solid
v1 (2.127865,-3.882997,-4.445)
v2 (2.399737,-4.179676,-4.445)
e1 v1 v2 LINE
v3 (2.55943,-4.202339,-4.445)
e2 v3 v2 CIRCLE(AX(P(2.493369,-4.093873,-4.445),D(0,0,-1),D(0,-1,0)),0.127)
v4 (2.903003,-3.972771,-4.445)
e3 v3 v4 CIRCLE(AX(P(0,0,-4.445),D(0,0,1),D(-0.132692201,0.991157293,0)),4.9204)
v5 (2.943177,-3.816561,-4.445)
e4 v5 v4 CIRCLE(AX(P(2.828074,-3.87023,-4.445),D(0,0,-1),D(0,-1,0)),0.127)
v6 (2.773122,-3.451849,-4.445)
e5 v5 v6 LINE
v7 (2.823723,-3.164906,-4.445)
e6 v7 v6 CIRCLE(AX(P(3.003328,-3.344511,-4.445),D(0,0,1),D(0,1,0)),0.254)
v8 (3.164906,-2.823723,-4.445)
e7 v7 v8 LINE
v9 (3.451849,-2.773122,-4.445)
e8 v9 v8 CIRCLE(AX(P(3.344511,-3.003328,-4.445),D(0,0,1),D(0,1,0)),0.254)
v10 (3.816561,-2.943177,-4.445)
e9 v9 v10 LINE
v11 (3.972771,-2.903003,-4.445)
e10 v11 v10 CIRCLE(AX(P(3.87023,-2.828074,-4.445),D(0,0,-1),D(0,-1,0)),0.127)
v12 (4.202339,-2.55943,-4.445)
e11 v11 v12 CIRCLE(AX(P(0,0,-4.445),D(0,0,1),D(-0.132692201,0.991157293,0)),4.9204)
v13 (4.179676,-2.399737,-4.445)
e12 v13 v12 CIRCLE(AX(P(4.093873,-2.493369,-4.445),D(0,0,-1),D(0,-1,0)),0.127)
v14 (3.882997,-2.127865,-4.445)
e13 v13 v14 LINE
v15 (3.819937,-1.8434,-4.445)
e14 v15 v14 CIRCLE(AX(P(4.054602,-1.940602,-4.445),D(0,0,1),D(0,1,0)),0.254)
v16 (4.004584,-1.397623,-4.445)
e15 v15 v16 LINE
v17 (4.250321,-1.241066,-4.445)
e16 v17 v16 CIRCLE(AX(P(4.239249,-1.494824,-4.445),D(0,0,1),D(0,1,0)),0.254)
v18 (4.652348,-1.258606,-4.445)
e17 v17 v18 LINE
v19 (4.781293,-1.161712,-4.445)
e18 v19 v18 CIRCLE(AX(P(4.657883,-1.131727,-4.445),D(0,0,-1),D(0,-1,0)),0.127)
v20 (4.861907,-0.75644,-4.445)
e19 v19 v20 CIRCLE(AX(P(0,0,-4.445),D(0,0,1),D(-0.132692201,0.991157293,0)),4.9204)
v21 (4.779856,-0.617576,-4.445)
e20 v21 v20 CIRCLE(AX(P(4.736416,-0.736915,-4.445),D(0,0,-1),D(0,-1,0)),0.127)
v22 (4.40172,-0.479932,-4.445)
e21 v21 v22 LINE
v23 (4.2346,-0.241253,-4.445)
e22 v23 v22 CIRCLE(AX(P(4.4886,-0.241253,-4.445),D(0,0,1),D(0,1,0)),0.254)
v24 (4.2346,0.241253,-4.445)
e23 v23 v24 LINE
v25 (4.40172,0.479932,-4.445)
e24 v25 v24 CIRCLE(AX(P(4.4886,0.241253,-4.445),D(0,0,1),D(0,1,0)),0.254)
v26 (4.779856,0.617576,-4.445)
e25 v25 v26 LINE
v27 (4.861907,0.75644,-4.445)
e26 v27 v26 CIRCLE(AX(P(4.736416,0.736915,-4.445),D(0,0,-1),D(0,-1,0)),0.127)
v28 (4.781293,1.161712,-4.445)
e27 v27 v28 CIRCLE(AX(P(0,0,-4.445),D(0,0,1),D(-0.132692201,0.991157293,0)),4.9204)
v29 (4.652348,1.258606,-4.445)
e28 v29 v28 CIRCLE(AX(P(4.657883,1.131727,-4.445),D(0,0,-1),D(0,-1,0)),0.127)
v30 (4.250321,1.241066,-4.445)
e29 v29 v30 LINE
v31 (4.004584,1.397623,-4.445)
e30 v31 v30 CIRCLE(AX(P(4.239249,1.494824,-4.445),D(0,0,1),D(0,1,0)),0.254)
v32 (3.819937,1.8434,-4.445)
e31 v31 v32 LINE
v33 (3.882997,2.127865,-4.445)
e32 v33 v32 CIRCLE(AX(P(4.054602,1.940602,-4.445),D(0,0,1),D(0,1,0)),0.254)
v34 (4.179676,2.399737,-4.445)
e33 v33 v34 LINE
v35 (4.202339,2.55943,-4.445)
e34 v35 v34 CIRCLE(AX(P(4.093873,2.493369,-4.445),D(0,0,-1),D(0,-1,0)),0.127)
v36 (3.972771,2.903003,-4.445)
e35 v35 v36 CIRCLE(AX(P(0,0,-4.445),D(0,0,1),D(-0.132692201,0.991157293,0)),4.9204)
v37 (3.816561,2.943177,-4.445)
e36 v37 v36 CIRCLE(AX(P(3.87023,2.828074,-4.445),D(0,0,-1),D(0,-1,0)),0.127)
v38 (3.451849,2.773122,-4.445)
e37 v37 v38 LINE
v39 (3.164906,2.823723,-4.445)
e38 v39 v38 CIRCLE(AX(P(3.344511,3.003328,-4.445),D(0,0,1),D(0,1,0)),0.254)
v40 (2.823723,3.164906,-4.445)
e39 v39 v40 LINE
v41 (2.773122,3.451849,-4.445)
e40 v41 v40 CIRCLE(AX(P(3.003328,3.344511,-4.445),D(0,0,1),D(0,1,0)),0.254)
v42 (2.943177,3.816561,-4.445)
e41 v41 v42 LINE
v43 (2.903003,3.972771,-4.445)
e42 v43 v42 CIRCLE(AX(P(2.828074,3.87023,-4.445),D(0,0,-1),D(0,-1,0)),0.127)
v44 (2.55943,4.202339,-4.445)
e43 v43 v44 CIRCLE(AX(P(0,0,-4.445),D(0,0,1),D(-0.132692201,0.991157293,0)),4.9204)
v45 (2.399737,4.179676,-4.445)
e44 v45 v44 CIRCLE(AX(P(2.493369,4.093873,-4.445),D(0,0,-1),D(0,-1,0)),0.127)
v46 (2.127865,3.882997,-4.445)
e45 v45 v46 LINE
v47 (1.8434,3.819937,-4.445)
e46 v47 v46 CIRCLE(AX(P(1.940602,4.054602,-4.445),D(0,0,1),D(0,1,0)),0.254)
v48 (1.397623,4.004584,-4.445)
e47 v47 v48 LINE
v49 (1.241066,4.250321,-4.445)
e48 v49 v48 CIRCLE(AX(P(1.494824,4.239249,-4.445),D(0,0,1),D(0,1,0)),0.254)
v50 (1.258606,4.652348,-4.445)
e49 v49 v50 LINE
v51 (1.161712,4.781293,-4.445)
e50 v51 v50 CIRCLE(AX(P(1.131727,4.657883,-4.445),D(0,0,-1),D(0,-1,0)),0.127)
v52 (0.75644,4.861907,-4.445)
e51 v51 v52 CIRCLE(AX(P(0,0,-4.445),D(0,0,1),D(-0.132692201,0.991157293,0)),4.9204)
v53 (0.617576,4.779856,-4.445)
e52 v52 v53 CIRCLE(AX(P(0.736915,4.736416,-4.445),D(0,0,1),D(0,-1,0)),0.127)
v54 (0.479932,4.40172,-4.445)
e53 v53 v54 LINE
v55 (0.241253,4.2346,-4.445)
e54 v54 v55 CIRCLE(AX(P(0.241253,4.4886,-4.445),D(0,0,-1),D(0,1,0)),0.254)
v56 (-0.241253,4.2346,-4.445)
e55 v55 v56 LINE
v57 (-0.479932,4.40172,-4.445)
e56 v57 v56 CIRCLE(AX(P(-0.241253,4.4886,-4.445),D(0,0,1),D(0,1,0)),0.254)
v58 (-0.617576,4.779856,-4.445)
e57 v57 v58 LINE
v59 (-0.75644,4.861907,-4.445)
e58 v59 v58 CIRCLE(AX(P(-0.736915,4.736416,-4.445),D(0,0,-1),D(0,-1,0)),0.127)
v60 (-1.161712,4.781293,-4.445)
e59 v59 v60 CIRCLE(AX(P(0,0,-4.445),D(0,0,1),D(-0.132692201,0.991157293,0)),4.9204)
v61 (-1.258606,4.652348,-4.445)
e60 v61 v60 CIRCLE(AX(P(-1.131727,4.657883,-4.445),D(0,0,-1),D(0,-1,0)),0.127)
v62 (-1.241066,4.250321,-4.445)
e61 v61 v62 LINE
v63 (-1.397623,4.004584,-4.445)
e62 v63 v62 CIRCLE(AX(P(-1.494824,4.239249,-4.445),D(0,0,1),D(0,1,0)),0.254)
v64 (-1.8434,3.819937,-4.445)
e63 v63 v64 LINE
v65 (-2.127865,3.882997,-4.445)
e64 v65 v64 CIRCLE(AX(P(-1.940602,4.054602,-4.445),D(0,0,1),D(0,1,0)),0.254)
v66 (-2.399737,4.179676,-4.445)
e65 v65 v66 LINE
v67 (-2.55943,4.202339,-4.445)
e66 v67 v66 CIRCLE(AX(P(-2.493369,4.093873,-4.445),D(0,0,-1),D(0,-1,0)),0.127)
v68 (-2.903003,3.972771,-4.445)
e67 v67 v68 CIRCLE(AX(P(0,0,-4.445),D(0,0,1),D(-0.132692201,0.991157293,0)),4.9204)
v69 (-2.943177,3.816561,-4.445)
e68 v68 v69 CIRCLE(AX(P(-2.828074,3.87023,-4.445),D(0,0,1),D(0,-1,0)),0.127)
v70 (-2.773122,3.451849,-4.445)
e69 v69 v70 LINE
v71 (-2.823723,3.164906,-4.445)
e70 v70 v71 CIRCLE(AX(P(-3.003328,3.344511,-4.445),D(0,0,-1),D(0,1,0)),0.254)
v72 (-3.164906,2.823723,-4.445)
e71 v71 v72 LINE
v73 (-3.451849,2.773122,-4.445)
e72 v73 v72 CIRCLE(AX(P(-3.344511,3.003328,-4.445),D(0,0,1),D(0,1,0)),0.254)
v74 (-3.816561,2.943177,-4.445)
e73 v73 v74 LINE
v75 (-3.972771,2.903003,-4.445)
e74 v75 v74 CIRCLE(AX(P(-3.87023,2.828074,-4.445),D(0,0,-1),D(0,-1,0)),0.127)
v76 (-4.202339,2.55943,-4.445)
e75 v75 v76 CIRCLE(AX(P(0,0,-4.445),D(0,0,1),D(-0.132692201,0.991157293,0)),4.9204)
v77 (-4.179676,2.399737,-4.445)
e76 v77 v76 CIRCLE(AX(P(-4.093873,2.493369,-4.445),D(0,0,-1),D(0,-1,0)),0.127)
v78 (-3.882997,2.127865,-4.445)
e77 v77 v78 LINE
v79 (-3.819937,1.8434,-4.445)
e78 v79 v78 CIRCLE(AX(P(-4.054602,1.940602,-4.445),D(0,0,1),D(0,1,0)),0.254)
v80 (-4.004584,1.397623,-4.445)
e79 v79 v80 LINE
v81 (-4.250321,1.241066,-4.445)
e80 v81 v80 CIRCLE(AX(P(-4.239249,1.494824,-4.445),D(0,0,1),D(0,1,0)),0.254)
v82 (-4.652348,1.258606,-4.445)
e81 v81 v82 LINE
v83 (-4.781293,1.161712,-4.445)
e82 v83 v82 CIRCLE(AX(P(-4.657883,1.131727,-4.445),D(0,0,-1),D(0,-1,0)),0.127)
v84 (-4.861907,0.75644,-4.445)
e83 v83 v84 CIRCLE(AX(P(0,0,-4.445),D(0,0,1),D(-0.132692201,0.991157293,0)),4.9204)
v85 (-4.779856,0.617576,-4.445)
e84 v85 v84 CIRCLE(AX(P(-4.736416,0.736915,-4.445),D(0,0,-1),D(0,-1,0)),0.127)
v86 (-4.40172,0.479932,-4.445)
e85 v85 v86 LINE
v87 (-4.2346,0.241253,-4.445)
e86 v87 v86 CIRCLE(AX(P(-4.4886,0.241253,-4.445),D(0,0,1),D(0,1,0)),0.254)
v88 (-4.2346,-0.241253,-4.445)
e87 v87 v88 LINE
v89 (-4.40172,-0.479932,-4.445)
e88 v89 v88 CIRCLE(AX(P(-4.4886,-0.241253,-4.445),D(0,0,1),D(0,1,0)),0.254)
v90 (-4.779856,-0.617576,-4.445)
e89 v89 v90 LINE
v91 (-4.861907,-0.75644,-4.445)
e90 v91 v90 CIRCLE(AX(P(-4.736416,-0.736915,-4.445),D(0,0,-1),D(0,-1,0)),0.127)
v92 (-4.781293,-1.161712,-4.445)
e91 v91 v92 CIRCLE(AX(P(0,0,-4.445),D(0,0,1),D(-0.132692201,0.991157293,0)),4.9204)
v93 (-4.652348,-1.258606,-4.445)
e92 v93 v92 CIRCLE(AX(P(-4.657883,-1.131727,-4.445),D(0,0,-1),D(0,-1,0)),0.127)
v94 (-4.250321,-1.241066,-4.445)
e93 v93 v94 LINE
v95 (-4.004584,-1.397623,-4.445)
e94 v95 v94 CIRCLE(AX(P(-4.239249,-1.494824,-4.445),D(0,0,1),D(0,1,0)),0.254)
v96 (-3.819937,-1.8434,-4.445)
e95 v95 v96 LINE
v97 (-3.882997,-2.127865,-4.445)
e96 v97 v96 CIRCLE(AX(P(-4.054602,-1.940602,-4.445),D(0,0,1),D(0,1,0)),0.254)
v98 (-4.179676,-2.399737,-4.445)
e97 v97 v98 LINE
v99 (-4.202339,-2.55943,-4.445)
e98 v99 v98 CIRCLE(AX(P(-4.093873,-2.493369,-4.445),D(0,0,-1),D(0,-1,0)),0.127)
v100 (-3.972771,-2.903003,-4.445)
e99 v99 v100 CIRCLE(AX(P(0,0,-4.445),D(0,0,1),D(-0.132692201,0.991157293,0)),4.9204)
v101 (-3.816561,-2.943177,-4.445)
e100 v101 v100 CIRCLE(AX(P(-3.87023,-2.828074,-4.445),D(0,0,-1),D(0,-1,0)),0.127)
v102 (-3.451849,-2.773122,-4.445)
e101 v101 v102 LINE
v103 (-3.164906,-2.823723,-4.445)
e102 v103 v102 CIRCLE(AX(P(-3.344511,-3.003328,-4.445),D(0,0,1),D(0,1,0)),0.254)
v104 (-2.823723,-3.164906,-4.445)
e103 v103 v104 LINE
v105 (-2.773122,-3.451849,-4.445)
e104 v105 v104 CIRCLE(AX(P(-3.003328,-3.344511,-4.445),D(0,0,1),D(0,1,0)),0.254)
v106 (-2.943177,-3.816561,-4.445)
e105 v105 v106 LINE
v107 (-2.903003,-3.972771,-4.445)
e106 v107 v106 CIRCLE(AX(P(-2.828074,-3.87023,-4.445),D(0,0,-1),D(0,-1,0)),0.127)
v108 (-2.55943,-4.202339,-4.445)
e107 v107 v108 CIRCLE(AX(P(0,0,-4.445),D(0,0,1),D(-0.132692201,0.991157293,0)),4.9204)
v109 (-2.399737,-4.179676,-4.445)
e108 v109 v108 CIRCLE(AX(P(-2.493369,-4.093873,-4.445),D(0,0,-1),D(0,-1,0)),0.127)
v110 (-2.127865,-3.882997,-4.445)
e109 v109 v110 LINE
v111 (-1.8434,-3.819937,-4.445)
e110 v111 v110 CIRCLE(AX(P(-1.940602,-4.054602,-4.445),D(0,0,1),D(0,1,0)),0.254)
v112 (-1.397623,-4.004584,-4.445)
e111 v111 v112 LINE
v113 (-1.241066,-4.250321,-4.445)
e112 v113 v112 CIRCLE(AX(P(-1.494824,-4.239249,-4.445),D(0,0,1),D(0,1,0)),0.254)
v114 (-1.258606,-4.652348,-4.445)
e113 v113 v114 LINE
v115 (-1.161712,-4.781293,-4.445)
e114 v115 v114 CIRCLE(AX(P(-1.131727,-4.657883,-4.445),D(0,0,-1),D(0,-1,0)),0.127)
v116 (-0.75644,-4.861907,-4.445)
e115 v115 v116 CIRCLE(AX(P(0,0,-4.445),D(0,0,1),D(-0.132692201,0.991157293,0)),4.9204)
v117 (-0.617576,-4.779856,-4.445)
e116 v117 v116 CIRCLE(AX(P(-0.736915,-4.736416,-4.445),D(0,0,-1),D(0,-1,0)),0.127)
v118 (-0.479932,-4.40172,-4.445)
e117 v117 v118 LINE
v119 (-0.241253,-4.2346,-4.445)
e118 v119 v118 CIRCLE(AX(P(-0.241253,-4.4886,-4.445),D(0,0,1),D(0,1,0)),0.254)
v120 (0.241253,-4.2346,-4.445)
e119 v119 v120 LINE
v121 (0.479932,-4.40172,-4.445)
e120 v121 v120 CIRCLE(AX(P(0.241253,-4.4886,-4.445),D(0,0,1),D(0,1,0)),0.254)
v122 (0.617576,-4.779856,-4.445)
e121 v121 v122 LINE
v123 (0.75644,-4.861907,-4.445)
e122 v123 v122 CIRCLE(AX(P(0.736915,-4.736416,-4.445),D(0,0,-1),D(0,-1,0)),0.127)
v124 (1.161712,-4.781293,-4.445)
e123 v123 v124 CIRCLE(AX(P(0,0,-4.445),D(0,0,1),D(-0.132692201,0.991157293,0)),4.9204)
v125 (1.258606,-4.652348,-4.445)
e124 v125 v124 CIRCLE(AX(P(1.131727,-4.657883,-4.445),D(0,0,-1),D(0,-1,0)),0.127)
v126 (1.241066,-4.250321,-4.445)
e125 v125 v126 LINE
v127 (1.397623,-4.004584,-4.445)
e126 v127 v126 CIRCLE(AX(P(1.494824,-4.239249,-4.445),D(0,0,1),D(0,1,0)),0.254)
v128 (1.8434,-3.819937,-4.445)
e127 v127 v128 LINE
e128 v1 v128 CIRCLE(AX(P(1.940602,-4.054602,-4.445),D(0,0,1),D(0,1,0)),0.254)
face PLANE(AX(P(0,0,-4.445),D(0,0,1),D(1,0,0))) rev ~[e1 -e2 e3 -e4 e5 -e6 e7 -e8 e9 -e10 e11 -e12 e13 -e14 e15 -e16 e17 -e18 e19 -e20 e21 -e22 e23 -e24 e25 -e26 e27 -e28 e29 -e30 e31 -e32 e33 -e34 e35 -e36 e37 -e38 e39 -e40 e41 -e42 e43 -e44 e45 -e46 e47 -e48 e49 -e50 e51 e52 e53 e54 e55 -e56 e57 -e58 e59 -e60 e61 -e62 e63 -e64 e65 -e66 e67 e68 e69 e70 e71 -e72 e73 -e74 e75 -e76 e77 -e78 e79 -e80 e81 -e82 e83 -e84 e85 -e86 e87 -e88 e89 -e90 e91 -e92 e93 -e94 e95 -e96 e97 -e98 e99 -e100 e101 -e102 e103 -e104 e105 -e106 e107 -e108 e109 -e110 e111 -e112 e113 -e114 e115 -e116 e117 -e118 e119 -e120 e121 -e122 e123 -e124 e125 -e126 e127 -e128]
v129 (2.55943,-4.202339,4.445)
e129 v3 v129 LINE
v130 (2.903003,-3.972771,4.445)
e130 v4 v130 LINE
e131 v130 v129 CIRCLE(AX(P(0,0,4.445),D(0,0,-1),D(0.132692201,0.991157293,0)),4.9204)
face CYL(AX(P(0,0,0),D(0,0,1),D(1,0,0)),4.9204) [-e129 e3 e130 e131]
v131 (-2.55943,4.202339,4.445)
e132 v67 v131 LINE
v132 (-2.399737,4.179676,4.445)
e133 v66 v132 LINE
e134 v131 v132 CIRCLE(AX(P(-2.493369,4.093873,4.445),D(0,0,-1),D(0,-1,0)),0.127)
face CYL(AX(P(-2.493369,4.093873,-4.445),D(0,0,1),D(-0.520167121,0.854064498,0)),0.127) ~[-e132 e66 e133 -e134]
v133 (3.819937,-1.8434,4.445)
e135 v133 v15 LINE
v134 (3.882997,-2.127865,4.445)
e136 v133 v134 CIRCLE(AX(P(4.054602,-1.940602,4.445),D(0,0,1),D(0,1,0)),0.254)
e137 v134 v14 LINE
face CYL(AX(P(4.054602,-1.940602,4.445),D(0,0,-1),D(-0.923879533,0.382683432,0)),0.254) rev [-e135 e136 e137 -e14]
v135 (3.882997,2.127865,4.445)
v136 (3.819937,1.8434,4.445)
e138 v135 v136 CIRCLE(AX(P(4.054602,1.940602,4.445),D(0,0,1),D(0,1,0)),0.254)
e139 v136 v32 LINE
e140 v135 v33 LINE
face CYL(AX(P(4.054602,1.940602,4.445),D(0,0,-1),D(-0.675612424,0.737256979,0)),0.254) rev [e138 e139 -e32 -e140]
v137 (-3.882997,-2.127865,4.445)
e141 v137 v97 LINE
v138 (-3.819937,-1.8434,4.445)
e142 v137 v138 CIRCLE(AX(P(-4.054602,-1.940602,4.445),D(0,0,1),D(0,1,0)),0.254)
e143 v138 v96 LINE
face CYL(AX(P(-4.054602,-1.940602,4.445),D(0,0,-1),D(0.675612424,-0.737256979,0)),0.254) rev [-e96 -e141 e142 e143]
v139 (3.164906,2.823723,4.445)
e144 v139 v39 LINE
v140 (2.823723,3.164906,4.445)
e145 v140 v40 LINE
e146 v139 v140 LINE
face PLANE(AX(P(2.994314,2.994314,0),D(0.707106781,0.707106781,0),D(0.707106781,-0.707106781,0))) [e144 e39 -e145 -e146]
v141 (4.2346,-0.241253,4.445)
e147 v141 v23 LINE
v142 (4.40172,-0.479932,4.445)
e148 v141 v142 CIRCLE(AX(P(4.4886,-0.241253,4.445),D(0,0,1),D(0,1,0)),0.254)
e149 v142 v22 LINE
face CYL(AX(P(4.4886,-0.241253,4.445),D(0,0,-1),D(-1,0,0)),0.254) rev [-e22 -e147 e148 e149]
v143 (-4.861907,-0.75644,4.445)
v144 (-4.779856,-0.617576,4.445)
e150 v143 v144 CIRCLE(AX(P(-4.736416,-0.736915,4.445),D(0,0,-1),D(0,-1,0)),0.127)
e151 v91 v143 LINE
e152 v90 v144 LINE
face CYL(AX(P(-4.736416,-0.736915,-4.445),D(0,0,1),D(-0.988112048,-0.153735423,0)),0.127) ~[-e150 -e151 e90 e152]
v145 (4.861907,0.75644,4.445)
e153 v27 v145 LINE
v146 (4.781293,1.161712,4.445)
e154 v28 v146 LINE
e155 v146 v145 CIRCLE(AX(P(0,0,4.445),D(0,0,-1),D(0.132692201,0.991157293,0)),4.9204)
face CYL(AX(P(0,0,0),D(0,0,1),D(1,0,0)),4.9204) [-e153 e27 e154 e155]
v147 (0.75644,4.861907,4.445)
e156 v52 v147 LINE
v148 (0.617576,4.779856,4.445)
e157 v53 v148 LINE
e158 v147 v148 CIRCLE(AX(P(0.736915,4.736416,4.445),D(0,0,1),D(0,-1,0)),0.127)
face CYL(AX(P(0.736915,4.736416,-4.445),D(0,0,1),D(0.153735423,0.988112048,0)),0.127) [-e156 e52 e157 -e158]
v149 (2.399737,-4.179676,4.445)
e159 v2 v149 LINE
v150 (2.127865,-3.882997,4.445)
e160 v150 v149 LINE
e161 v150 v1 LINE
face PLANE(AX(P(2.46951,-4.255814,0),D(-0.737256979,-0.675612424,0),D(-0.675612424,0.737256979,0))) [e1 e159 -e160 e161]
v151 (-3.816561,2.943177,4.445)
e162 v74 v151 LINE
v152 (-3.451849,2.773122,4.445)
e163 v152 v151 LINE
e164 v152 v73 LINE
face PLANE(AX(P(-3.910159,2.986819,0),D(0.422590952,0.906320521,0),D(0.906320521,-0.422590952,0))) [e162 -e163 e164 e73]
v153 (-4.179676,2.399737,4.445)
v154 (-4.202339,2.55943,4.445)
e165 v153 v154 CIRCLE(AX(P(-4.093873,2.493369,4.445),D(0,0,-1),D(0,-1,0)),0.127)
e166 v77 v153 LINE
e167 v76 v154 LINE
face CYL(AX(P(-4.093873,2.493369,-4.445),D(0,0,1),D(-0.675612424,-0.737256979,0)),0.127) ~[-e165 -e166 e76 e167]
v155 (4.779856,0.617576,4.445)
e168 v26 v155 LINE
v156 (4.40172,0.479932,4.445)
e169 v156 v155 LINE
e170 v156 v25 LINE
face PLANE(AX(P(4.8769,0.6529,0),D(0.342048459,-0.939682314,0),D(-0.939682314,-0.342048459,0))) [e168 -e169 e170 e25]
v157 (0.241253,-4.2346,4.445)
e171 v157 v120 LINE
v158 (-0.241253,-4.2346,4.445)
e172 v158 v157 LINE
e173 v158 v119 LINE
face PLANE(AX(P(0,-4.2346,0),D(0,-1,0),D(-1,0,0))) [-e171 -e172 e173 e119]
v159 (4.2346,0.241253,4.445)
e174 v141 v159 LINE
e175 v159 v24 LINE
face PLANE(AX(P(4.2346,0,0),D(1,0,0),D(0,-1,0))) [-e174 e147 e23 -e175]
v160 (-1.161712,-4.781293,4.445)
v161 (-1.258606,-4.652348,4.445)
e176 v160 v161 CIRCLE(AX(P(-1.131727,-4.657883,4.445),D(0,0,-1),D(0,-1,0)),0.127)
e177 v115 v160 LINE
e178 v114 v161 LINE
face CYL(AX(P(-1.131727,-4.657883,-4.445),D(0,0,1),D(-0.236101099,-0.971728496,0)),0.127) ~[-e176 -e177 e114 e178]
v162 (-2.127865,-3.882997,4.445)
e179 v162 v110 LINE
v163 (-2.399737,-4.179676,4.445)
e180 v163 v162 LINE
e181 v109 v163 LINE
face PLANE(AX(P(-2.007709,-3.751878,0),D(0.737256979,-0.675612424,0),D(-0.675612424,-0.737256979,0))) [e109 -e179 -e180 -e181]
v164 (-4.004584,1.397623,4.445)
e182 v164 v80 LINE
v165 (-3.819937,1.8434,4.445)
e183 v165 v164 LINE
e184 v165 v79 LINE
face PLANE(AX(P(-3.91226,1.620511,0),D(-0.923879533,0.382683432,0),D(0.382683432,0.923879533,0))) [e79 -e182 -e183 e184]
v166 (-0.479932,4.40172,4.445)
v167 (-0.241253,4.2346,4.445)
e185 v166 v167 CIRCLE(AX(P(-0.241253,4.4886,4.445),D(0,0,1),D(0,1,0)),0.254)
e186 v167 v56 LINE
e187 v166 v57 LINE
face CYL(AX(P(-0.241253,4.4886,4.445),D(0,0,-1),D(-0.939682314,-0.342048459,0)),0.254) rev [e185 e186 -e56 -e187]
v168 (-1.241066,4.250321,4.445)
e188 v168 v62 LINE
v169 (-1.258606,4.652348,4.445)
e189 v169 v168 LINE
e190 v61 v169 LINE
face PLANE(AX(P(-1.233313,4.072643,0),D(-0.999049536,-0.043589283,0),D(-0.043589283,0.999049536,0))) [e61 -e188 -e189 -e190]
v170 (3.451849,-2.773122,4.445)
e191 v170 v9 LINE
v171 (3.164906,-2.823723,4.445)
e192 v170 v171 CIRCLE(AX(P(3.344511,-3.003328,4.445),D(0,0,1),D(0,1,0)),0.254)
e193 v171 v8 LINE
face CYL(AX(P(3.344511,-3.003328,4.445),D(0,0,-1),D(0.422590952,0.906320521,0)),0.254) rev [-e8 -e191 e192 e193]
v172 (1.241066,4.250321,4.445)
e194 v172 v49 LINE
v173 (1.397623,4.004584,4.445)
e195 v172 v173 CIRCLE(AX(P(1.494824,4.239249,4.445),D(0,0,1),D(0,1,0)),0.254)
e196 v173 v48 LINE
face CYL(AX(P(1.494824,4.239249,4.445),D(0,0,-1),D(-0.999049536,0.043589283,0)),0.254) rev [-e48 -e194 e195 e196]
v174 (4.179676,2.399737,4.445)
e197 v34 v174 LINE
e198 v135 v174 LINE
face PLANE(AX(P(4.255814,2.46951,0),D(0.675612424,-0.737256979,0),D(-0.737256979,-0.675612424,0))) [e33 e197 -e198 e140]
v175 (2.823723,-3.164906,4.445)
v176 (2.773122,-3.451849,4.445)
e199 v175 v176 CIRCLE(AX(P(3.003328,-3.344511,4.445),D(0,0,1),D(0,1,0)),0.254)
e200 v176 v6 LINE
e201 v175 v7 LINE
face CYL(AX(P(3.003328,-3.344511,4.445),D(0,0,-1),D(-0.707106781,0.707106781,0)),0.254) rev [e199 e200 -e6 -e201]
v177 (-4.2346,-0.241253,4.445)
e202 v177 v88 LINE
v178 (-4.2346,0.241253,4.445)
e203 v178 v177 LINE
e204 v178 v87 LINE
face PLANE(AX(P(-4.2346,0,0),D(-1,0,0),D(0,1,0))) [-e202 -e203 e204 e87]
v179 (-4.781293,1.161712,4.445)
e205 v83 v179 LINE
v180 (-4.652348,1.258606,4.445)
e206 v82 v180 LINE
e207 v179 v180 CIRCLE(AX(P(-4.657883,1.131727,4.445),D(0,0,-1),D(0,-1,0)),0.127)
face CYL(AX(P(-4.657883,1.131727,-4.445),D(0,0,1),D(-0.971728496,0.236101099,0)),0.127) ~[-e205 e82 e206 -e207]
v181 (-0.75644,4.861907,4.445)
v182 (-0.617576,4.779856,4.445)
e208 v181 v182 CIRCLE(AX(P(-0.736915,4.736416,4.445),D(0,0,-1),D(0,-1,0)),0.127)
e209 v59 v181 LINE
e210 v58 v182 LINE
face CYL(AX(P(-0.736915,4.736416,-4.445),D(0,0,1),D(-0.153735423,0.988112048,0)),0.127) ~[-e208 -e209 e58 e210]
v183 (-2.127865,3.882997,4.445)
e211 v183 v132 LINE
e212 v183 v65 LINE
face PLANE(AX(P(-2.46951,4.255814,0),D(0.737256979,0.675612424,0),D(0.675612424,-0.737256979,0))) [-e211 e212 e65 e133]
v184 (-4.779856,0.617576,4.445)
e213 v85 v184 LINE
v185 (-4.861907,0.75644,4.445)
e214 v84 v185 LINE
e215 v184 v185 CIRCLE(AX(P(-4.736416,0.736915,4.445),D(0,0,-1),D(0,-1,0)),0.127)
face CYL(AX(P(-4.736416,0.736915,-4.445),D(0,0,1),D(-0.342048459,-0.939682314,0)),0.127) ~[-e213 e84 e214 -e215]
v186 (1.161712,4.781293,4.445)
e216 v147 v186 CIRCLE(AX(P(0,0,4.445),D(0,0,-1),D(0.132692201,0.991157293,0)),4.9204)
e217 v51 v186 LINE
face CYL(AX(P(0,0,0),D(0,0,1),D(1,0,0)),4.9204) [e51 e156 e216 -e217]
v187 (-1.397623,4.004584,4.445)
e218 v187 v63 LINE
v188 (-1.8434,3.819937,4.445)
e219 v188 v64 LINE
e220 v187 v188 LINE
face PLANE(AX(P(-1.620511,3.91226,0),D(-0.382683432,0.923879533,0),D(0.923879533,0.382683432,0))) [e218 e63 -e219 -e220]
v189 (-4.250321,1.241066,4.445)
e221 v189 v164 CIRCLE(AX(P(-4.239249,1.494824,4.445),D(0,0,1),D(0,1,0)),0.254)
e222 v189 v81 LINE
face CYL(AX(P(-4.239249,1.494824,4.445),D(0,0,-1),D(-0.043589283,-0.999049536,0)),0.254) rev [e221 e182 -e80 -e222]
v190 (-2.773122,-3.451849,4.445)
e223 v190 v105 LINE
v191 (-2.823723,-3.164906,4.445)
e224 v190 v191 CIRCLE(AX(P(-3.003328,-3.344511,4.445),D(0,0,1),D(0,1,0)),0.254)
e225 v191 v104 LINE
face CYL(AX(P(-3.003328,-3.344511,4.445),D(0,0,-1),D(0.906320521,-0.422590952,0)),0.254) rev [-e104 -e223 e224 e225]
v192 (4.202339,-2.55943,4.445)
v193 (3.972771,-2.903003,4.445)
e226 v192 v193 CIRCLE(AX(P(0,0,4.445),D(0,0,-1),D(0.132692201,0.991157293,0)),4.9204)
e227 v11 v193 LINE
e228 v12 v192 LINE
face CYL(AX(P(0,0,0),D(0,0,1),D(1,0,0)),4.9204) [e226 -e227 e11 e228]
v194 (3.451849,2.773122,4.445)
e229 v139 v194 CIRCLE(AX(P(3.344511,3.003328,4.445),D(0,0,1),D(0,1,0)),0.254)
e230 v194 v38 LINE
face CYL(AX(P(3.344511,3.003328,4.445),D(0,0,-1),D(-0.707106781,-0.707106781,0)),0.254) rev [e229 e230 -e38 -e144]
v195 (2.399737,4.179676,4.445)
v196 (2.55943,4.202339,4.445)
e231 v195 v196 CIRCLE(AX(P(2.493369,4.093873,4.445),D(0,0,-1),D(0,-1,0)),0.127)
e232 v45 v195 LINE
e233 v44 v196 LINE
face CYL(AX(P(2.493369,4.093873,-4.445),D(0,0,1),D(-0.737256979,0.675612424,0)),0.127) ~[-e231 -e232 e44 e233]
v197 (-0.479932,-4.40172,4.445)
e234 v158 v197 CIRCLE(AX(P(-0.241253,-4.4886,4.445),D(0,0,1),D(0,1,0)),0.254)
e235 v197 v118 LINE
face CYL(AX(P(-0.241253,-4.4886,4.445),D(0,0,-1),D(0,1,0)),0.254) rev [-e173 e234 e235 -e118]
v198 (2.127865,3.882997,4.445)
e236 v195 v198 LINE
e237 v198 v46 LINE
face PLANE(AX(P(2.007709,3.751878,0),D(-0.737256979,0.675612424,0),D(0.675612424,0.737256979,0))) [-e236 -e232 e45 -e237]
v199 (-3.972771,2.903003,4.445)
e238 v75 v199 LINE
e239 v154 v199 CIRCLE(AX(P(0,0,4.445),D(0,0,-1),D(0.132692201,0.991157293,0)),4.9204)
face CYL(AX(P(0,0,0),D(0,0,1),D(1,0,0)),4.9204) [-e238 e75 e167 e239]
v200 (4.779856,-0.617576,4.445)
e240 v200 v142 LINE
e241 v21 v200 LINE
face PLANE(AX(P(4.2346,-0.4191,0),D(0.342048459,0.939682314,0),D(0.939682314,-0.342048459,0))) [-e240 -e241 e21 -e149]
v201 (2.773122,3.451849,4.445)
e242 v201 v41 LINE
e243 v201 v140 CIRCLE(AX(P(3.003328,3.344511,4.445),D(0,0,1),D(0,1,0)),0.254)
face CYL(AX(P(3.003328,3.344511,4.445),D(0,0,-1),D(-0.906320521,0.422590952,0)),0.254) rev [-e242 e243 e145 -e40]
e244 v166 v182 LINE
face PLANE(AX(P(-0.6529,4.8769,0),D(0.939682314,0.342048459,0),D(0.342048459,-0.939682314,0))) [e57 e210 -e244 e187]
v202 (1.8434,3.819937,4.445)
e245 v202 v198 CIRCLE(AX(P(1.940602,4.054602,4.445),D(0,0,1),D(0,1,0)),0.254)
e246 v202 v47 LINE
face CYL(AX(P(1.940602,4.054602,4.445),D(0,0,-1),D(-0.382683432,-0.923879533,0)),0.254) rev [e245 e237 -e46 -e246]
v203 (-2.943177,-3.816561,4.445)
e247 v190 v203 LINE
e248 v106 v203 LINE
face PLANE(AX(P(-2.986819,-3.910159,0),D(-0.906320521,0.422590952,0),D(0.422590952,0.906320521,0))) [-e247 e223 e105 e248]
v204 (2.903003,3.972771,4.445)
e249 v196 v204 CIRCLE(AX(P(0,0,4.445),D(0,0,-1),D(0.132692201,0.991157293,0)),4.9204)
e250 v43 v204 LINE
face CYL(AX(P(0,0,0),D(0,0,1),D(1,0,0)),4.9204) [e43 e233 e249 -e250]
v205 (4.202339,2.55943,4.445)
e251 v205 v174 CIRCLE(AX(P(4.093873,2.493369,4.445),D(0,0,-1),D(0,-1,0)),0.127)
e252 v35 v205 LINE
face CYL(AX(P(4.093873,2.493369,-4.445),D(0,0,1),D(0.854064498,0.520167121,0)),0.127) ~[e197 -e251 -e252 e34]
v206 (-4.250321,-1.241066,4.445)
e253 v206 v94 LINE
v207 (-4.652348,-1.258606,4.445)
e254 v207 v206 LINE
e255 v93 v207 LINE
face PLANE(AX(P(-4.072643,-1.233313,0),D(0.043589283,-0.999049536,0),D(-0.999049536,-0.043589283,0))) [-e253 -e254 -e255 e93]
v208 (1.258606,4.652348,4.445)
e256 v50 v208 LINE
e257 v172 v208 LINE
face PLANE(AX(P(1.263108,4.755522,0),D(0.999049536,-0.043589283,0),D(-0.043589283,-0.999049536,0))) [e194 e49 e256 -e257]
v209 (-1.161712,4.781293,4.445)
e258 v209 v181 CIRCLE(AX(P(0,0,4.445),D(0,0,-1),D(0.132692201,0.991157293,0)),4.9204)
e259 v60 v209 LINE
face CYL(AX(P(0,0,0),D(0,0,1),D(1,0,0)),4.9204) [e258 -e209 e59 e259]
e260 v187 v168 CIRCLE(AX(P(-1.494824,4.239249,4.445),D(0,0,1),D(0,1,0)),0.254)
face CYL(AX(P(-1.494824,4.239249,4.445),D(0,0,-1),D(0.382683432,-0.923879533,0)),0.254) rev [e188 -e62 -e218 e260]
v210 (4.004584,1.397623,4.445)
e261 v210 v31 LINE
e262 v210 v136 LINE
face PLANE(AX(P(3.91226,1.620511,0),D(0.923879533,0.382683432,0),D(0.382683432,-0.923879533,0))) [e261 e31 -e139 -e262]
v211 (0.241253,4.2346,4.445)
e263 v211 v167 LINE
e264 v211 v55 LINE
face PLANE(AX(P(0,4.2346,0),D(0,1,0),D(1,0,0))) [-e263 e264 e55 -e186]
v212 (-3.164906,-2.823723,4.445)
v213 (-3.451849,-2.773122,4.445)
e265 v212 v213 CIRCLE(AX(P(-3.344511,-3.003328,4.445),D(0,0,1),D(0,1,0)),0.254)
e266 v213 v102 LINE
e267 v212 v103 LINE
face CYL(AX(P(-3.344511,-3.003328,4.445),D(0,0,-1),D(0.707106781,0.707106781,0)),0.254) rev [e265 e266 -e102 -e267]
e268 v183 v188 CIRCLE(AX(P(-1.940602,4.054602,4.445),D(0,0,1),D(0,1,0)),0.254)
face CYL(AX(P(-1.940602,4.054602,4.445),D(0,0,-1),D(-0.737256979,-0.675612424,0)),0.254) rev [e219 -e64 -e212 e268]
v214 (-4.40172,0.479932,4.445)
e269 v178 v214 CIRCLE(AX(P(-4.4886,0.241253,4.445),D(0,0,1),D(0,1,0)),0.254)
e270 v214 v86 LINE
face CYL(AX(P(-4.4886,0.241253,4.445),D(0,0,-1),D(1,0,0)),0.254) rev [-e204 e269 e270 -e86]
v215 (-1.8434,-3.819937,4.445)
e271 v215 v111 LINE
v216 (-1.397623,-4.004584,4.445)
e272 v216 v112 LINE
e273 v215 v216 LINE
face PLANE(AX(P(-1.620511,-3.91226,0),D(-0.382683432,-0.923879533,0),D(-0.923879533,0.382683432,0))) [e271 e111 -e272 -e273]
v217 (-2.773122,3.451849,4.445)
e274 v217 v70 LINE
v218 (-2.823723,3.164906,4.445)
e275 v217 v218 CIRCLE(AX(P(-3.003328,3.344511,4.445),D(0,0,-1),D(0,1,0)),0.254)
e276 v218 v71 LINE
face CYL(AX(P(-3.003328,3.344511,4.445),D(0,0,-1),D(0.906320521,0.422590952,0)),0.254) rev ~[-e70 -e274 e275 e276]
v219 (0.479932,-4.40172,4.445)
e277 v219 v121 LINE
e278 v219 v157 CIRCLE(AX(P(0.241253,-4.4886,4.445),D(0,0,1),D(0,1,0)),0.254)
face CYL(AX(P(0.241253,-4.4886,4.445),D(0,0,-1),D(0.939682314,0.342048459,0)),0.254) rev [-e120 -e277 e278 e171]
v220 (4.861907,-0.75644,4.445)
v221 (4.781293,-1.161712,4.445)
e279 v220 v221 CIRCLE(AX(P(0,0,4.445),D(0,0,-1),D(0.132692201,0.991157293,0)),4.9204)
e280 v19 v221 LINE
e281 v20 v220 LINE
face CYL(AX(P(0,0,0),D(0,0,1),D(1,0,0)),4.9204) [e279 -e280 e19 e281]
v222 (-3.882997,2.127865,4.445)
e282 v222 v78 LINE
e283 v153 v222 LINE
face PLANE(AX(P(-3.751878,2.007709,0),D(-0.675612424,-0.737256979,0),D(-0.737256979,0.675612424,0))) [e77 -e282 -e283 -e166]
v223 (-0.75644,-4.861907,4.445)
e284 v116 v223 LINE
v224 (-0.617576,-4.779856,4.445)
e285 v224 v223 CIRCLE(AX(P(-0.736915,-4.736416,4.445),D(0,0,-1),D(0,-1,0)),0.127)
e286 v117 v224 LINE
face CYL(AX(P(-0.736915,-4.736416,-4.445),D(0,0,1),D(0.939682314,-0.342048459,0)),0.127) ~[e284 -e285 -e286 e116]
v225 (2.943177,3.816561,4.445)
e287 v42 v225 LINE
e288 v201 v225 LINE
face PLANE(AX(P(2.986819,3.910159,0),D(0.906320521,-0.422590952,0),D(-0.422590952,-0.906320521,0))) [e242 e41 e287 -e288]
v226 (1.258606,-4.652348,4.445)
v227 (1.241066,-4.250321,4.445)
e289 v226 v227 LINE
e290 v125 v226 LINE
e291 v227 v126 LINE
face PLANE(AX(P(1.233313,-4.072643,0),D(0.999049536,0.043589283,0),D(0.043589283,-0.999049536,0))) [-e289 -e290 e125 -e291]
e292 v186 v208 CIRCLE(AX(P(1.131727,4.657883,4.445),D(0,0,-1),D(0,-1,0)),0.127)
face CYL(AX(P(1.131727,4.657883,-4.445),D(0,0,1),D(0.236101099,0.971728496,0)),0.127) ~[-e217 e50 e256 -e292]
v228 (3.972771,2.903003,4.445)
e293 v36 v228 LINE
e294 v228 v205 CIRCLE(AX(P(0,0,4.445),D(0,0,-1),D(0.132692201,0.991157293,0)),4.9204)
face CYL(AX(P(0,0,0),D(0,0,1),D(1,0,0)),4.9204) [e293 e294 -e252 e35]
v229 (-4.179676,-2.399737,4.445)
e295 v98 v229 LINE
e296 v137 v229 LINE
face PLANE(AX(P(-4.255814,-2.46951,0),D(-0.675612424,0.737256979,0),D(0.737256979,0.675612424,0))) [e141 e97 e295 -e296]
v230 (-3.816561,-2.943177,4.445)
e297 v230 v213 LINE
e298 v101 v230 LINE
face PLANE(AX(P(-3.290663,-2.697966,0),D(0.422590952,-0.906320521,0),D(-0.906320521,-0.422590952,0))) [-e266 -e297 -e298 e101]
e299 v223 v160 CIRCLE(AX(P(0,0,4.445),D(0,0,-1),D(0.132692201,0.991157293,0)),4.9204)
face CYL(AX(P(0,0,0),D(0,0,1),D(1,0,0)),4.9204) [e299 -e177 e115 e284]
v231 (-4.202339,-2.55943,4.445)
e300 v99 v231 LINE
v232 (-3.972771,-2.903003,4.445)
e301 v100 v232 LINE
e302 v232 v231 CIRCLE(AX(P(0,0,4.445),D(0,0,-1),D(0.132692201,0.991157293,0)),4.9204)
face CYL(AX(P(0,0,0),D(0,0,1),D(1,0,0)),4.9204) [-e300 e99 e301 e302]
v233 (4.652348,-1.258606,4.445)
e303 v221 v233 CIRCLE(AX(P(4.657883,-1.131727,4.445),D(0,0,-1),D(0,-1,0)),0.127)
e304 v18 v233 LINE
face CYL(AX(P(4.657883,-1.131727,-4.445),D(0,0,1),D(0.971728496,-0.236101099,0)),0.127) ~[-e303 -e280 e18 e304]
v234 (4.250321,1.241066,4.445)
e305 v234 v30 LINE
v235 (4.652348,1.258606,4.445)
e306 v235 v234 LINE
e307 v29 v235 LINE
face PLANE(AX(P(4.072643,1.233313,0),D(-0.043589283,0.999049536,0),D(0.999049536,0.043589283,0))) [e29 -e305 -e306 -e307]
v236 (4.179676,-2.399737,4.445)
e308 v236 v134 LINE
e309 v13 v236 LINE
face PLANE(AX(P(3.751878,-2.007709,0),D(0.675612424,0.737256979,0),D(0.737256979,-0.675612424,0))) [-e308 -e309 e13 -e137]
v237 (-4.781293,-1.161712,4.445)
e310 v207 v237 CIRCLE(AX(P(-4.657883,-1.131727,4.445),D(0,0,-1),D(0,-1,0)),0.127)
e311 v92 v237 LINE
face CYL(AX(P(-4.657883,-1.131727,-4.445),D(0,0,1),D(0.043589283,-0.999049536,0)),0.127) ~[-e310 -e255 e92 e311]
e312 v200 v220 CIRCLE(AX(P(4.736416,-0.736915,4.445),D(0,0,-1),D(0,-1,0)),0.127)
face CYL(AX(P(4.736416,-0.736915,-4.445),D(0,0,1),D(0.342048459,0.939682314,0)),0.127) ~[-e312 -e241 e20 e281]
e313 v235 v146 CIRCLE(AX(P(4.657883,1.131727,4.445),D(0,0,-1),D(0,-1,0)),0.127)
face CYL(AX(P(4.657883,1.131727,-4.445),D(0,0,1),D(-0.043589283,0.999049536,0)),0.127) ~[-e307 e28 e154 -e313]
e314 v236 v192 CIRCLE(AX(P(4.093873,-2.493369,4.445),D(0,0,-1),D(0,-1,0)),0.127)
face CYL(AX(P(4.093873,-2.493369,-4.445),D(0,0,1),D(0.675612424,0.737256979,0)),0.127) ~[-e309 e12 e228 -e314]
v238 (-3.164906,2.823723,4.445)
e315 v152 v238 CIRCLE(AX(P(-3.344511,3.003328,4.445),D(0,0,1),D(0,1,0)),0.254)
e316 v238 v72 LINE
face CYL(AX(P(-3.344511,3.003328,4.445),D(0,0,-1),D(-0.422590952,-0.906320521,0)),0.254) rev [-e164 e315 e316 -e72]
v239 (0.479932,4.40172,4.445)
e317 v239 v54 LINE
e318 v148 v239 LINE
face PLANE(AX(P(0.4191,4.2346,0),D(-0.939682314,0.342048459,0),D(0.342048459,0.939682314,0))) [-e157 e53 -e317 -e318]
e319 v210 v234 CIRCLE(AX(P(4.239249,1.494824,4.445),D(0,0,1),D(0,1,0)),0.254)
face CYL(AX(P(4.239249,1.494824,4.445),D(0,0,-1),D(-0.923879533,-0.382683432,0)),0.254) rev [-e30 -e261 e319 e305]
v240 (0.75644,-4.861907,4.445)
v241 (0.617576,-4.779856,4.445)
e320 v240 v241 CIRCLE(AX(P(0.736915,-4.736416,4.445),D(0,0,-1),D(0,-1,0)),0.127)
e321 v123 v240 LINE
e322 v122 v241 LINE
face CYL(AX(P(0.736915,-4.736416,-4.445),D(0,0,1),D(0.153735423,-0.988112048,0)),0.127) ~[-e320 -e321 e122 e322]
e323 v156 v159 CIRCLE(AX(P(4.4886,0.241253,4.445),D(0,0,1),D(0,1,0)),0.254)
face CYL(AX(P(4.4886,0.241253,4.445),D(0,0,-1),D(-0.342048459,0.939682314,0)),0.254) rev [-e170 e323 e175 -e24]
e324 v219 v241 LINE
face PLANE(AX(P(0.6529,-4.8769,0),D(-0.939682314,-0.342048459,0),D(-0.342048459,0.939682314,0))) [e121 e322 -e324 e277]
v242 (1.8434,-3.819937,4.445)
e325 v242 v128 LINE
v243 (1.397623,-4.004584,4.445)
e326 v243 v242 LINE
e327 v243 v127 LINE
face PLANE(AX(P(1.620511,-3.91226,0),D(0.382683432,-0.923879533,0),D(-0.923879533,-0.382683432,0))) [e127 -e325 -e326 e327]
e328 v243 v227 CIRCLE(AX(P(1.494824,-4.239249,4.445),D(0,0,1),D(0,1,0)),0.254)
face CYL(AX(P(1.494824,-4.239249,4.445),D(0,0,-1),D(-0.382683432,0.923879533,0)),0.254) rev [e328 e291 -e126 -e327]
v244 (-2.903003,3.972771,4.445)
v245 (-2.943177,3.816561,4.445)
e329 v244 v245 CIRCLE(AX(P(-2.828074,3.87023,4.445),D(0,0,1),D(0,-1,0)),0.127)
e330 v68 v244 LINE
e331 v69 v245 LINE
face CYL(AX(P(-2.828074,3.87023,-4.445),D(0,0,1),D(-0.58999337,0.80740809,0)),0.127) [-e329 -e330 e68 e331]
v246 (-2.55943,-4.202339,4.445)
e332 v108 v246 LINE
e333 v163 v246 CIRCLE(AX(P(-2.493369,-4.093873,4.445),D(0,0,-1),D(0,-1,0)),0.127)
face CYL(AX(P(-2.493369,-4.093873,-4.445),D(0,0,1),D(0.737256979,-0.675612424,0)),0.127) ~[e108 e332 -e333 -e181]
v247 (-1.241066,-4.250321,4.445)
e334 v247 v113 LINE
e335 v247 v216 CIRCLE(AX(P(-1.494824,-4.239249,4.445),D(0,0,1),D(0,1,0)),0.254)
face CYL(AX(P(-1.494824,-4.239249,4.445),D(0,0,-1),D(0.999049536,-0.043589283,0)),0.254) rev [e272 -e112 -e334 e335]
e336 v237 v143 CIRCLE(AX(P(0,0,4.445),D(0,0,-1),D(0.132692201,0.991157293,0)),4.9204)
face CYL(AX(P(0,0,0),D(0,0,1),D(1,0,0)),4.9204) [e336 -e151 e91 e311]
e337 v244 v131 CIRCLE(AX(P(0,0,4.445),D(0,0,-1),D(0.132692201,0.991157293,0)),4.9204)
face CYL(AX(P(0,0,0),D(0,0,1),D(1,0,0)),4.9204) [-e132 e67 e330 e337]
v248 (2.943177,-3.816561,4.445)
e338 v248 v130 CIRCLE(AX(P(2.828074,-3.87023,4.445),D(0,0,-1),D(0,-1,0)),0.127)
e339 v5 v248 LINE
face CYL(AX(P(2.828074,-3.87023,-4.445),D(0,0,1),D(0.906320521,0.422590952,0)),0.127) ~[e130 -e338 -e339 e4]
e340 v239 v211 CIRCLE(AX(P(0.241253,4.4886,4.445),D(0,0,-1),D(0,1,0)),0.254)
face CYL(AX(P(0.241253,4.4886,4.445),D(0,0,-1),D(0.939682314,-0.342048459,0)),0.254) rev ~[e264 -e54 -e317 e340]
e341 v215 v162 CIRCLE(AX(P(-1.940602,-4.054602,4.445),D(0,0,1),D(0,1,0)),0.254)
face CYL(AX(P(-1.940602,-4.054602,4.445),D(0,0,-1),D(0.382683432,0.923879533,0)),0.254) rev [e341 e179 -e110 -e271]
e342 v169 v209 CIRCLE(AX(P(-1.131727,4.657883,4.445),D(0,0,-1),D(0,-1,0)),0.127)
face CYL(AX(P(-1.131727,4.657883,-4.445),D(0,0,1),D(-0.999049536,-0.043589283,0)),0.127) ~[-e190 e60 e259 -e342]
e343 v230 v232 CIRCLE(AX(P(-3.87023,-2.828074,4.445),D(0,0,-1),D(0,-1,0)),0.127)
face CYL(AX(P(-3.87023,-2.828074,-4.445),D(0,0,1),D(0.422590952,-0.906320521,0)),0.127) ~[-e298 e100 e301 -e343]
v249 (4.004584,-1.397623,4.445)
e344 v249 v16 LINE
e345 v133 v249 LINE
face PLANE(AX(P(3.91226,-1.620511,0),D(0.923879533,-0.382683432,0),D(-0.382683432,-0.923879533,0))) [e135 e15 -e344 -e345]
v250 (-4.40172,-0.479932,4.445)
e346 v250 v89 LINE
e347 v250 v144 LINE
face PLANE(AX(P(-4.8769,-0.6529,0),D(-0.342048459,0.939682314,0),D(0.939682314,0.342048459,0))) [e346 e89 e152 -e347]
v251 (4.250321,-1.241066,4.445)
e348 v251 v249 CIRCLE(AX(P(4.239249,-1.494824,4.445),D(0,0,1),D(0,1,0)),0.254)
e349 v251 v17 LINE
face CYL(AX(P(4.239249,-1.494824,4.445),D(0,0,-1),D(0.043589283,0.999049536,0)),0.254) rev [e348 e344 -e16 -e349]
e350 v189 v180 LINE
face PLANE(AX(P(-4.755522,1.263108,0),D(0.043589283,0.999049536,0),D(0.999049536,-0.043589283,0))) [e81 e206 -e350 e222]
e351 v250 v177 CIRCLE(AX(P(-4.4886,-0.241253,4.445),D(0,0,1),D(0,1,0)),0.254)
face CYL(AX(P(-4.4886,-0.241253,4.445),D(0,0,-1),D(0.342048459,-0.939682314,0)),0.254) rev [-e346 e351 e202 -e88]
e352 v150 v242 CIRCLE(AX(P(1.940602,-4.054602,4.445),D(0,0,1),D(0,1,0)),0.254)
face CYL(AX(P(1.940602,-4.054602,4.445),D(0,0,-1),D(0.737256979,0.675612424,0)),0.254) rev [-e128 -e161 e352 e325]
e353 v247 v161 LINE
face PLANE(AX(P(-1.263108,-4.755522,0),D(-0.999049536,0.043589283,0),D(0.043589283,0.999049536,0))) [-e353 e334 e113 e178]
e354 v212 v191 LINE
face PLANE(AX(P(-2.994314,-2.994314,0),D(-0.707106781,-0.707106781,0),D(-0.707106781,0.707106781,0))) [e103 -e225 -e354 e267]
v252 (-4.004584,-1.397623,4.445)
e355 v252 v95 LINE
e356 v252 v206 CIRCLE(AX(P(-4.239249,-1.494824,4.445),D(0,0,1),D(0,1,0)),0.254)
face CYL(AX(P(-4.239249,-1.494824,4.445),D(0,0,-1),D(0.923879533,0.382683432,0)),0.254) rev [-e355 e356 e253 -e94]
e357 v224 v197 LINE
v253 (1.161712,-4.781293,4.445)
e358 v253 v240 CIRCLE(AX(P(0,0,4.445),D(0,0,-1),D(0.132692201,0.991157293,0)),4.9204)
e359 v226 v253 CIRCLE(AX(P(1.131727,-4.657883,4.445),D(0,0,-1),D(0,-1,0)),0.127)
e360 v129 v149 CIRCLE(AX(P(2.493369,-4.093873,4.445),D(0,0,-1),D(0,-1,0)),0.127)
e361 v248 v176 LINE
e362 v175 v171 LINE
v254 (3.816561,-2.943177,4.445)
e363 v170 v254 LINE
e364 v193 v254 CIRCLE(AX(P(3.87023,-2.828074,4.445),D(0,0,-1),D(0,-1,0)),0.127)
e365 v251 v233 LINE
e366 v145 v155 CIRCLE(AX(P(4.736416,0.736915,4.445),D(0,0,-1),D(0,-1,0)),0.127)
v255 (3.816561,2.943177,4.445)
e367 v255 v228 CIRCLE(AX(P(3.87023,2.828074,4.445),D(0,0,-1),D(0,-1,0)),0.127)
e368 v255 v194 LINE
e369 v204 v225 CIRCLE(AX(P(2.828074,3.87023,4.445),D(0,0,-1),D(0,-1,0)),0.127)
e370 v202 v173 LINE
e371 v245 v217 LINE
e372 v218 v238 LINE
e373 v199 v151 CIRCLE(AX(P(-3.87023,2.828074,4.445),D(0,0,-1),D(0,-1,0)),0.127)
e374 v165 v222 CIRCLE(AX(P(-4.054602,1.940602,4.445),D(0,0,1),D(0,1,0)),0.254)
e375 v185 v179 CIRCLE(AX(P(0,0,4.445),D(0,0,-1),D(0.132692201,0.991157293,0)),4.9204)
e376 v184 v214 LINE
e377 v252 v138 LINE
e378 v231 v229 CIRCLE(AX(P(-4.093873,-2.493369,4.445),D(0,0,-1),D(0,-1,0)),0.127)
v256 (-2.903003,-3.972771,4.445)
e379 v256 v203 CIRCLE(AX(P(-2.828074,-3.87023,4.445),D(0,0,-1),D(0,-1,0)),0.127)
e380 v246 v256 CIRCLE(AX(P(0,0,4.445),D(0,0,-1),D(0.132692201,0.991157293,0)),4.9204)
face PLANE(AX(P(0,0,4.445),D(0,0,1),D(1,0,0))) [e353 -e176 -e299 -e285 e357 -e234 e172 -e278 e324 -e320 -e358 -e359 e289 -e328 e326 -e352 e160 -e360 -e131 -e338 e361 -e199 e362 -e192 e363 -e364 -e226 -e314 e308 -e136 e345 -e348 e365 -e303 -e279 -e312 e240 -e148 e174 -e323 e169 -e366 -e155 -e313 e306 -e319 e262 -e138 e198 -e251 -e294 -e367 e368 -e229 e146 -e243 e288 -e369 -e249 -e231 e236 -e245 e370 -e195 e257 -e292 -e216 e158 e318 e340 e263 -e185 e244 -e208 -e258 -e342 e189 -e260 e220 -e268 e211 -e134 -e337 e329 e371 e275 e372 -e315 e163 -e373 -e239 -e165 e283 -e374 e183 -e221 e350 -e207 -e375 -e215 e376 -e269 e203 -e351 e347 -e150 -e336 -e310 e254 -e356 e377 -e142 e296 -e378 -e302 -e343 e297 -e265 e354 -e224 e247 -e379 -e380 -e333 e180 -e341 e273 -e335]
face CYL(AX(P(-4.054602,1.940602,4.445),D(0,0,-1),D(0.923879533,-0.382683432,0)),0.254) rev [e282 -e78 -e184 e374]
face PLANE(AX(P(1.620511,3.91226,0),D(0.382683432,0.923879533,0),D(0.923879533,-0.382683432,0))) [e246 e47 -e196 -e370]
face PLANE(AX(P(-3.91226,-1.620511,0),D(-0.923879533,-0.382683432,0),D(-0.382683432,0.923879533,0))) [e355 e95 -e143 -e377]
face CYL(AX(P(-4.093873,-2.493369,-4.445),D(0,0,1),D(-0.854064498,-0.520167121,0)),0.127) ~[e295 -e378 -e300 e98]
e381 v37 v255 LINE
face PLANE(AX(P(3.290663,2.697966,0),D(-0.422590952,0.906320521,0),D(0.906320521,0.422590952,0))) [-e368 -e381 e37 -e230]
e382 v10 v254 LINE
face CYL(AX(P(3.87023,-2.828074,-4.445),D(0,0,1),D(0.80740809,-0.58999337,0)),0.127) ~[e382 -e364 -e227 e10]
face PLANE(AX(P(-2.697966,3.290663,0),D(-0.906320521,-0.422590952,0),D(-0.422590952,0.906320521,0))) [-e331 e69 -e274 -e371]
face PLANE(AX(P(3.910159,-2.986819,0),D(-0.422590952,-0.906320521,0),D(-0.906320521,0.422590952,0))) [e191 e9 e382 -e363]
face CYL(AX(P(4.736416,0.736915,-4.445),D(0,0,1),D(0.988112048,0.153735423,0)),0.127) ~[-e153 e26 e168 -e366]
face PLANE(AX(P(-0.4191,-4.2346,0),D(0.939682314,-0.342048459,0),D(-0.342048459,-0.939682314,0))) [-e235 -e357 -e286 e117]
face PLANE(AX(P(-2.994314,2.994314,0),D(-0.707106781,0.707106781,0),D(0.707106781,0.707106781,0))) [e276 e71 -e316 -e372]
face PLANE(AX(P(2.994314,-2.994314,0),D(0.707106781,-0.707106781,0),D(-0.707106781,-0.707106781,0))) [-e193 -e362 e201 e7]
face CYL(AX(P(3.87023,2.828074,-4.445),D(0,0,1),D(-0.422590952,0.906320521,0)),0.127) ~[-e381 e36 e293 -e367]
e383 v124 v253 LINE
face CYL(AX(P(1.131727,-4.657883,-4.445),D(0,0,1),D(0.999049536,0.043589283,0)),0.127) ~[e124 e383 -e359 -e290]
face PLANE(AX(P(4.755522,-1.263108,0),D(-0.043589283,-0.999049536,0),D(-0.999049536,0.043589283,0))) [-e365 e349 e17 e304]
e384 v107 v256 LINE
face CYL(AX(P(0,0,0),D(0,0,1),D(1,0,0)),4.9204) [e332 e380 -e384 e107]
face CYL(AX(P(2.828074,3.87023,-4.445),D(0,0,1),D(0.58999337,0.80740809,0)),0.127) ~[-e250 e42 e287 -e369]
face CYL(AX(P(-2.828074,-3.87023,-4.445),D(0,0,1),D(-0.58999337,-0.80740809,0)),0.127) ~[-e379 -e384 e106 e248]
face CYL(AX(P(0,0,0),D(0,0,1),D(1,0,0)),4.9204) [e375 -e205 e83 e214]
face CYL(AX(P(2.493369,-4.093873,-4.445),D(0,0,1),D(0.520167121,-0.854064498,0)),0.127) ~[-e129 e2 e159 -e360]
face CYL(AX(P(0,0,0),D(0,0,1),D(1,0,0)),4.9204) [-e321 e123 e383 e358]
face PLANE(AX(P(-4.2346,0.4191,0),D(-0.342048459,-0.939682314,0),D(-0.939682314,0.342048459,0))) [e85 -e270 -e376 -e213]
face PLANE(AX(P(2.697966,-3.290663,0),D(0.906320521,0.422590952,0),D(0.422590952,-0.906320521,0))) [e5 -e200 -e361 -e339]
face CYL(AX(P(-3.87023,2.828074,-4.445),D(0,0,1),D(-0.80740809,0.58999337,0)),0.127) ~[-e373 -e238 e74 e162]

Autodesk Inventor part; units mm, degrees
ref_plane "YZ Plane" through (0, 0, 0) normal (1, 0, 0) x (0, 1, 0)
ref_plane "XZ Plane" through (0, 0, 0) normal (0, 1, 0) x (-1, 0, 0)
ref_plane "XY Plane" through (0, 0, 0) normal (0, 0, 1) x (1, 0, 0)
sketch "Pulley Sketch" plane through (0, 0, 0) normal (0, 0, 1) x (1, 0, 0)
  circle A0 centre (0, 0) radius 5.1744 construction
  circle A1 centre (0, 0) radius 4.9204
  circle A2 centre (0, 0) radius 4.2346
  line L0 (-0.6529, 4.8769) -> (-0.4191, 4.2346)
  line L1 (-0.4191, 4.2346) -> (0.4191, 4.2346)
  line L2 (0.4191, 4.2346) -> (0.6529, 4.8769)
  line L3 (0, 0) -> (0, 4.9204) construction
  point P0 (0, 4.2346)
  dimension "d0" = 10.3489
  dimension "d1" = 0.254
  dimension "d2" = 0.6858
  dimension "d3" = 40
  dimension "d4" = 0.8382
extrude "Base Body" add sketch "Pulley Sketch" along normal mid plane 8.89 contours A2 | A1 L0 L1 L2 | L2 L1 L0 A1
extrude "Tooth" cut sketch "Pulley Sketch" along normal through all both and the other way through all contours L2 L1 L0 A1 picked at (0, 4.6886)
fillet "Tooth Fillet" radius 0.254 2 edges at (0.4191, 4.2346, 0) (-0.4191, 4.2346, 0)
fillet "Tooth Fillet" radius 0.127 4 edges at (-0.6529, 4.8769, 2.2225) (-0.6529, 4.8769, -2.2225) (0.6529, 4.8769, 2.2225) (0.6529, 4.8769, -2.2225)
pattern_circular "Teeth" count 16 over 360 about axis through (0, 0, -10) along (0, 0, 1) of "Tooth", "Tooth Fillet"
feature "Left flange" [suppressed]
feature "Right flange" [suppressed]
equation "\"d1\" = da_a"
equation "\"d2\" = da_hg"
equation "\"d3\" = 2 * da_fi"
equation "\"d4\" = da_bw"
equation "\"d5\" = da_bf"
equation "\"d7\" = da_bf"
equation "\"d9\" = da_rb"
equation "\"d10\" = da_rt"
equation "\"da_pb\" = 2.032"
equation "\"da_fi\" = 20deg"
equation "\"da_hg\" = 0.6858"
equation "\"da_bw\" = 0.8382"
equation "\"da_rb\" = 0.254"
equation "\"da_rt\" = 0.127"
equation "\"da_a\" = 0.254"
equation "\"da_bf\" = 8.89"
equation "\"da_wf\" = 1.5"
equation "\"da_hf\" = 1.5"
properties part number "Synchronous Pulley1" material "Steel"
